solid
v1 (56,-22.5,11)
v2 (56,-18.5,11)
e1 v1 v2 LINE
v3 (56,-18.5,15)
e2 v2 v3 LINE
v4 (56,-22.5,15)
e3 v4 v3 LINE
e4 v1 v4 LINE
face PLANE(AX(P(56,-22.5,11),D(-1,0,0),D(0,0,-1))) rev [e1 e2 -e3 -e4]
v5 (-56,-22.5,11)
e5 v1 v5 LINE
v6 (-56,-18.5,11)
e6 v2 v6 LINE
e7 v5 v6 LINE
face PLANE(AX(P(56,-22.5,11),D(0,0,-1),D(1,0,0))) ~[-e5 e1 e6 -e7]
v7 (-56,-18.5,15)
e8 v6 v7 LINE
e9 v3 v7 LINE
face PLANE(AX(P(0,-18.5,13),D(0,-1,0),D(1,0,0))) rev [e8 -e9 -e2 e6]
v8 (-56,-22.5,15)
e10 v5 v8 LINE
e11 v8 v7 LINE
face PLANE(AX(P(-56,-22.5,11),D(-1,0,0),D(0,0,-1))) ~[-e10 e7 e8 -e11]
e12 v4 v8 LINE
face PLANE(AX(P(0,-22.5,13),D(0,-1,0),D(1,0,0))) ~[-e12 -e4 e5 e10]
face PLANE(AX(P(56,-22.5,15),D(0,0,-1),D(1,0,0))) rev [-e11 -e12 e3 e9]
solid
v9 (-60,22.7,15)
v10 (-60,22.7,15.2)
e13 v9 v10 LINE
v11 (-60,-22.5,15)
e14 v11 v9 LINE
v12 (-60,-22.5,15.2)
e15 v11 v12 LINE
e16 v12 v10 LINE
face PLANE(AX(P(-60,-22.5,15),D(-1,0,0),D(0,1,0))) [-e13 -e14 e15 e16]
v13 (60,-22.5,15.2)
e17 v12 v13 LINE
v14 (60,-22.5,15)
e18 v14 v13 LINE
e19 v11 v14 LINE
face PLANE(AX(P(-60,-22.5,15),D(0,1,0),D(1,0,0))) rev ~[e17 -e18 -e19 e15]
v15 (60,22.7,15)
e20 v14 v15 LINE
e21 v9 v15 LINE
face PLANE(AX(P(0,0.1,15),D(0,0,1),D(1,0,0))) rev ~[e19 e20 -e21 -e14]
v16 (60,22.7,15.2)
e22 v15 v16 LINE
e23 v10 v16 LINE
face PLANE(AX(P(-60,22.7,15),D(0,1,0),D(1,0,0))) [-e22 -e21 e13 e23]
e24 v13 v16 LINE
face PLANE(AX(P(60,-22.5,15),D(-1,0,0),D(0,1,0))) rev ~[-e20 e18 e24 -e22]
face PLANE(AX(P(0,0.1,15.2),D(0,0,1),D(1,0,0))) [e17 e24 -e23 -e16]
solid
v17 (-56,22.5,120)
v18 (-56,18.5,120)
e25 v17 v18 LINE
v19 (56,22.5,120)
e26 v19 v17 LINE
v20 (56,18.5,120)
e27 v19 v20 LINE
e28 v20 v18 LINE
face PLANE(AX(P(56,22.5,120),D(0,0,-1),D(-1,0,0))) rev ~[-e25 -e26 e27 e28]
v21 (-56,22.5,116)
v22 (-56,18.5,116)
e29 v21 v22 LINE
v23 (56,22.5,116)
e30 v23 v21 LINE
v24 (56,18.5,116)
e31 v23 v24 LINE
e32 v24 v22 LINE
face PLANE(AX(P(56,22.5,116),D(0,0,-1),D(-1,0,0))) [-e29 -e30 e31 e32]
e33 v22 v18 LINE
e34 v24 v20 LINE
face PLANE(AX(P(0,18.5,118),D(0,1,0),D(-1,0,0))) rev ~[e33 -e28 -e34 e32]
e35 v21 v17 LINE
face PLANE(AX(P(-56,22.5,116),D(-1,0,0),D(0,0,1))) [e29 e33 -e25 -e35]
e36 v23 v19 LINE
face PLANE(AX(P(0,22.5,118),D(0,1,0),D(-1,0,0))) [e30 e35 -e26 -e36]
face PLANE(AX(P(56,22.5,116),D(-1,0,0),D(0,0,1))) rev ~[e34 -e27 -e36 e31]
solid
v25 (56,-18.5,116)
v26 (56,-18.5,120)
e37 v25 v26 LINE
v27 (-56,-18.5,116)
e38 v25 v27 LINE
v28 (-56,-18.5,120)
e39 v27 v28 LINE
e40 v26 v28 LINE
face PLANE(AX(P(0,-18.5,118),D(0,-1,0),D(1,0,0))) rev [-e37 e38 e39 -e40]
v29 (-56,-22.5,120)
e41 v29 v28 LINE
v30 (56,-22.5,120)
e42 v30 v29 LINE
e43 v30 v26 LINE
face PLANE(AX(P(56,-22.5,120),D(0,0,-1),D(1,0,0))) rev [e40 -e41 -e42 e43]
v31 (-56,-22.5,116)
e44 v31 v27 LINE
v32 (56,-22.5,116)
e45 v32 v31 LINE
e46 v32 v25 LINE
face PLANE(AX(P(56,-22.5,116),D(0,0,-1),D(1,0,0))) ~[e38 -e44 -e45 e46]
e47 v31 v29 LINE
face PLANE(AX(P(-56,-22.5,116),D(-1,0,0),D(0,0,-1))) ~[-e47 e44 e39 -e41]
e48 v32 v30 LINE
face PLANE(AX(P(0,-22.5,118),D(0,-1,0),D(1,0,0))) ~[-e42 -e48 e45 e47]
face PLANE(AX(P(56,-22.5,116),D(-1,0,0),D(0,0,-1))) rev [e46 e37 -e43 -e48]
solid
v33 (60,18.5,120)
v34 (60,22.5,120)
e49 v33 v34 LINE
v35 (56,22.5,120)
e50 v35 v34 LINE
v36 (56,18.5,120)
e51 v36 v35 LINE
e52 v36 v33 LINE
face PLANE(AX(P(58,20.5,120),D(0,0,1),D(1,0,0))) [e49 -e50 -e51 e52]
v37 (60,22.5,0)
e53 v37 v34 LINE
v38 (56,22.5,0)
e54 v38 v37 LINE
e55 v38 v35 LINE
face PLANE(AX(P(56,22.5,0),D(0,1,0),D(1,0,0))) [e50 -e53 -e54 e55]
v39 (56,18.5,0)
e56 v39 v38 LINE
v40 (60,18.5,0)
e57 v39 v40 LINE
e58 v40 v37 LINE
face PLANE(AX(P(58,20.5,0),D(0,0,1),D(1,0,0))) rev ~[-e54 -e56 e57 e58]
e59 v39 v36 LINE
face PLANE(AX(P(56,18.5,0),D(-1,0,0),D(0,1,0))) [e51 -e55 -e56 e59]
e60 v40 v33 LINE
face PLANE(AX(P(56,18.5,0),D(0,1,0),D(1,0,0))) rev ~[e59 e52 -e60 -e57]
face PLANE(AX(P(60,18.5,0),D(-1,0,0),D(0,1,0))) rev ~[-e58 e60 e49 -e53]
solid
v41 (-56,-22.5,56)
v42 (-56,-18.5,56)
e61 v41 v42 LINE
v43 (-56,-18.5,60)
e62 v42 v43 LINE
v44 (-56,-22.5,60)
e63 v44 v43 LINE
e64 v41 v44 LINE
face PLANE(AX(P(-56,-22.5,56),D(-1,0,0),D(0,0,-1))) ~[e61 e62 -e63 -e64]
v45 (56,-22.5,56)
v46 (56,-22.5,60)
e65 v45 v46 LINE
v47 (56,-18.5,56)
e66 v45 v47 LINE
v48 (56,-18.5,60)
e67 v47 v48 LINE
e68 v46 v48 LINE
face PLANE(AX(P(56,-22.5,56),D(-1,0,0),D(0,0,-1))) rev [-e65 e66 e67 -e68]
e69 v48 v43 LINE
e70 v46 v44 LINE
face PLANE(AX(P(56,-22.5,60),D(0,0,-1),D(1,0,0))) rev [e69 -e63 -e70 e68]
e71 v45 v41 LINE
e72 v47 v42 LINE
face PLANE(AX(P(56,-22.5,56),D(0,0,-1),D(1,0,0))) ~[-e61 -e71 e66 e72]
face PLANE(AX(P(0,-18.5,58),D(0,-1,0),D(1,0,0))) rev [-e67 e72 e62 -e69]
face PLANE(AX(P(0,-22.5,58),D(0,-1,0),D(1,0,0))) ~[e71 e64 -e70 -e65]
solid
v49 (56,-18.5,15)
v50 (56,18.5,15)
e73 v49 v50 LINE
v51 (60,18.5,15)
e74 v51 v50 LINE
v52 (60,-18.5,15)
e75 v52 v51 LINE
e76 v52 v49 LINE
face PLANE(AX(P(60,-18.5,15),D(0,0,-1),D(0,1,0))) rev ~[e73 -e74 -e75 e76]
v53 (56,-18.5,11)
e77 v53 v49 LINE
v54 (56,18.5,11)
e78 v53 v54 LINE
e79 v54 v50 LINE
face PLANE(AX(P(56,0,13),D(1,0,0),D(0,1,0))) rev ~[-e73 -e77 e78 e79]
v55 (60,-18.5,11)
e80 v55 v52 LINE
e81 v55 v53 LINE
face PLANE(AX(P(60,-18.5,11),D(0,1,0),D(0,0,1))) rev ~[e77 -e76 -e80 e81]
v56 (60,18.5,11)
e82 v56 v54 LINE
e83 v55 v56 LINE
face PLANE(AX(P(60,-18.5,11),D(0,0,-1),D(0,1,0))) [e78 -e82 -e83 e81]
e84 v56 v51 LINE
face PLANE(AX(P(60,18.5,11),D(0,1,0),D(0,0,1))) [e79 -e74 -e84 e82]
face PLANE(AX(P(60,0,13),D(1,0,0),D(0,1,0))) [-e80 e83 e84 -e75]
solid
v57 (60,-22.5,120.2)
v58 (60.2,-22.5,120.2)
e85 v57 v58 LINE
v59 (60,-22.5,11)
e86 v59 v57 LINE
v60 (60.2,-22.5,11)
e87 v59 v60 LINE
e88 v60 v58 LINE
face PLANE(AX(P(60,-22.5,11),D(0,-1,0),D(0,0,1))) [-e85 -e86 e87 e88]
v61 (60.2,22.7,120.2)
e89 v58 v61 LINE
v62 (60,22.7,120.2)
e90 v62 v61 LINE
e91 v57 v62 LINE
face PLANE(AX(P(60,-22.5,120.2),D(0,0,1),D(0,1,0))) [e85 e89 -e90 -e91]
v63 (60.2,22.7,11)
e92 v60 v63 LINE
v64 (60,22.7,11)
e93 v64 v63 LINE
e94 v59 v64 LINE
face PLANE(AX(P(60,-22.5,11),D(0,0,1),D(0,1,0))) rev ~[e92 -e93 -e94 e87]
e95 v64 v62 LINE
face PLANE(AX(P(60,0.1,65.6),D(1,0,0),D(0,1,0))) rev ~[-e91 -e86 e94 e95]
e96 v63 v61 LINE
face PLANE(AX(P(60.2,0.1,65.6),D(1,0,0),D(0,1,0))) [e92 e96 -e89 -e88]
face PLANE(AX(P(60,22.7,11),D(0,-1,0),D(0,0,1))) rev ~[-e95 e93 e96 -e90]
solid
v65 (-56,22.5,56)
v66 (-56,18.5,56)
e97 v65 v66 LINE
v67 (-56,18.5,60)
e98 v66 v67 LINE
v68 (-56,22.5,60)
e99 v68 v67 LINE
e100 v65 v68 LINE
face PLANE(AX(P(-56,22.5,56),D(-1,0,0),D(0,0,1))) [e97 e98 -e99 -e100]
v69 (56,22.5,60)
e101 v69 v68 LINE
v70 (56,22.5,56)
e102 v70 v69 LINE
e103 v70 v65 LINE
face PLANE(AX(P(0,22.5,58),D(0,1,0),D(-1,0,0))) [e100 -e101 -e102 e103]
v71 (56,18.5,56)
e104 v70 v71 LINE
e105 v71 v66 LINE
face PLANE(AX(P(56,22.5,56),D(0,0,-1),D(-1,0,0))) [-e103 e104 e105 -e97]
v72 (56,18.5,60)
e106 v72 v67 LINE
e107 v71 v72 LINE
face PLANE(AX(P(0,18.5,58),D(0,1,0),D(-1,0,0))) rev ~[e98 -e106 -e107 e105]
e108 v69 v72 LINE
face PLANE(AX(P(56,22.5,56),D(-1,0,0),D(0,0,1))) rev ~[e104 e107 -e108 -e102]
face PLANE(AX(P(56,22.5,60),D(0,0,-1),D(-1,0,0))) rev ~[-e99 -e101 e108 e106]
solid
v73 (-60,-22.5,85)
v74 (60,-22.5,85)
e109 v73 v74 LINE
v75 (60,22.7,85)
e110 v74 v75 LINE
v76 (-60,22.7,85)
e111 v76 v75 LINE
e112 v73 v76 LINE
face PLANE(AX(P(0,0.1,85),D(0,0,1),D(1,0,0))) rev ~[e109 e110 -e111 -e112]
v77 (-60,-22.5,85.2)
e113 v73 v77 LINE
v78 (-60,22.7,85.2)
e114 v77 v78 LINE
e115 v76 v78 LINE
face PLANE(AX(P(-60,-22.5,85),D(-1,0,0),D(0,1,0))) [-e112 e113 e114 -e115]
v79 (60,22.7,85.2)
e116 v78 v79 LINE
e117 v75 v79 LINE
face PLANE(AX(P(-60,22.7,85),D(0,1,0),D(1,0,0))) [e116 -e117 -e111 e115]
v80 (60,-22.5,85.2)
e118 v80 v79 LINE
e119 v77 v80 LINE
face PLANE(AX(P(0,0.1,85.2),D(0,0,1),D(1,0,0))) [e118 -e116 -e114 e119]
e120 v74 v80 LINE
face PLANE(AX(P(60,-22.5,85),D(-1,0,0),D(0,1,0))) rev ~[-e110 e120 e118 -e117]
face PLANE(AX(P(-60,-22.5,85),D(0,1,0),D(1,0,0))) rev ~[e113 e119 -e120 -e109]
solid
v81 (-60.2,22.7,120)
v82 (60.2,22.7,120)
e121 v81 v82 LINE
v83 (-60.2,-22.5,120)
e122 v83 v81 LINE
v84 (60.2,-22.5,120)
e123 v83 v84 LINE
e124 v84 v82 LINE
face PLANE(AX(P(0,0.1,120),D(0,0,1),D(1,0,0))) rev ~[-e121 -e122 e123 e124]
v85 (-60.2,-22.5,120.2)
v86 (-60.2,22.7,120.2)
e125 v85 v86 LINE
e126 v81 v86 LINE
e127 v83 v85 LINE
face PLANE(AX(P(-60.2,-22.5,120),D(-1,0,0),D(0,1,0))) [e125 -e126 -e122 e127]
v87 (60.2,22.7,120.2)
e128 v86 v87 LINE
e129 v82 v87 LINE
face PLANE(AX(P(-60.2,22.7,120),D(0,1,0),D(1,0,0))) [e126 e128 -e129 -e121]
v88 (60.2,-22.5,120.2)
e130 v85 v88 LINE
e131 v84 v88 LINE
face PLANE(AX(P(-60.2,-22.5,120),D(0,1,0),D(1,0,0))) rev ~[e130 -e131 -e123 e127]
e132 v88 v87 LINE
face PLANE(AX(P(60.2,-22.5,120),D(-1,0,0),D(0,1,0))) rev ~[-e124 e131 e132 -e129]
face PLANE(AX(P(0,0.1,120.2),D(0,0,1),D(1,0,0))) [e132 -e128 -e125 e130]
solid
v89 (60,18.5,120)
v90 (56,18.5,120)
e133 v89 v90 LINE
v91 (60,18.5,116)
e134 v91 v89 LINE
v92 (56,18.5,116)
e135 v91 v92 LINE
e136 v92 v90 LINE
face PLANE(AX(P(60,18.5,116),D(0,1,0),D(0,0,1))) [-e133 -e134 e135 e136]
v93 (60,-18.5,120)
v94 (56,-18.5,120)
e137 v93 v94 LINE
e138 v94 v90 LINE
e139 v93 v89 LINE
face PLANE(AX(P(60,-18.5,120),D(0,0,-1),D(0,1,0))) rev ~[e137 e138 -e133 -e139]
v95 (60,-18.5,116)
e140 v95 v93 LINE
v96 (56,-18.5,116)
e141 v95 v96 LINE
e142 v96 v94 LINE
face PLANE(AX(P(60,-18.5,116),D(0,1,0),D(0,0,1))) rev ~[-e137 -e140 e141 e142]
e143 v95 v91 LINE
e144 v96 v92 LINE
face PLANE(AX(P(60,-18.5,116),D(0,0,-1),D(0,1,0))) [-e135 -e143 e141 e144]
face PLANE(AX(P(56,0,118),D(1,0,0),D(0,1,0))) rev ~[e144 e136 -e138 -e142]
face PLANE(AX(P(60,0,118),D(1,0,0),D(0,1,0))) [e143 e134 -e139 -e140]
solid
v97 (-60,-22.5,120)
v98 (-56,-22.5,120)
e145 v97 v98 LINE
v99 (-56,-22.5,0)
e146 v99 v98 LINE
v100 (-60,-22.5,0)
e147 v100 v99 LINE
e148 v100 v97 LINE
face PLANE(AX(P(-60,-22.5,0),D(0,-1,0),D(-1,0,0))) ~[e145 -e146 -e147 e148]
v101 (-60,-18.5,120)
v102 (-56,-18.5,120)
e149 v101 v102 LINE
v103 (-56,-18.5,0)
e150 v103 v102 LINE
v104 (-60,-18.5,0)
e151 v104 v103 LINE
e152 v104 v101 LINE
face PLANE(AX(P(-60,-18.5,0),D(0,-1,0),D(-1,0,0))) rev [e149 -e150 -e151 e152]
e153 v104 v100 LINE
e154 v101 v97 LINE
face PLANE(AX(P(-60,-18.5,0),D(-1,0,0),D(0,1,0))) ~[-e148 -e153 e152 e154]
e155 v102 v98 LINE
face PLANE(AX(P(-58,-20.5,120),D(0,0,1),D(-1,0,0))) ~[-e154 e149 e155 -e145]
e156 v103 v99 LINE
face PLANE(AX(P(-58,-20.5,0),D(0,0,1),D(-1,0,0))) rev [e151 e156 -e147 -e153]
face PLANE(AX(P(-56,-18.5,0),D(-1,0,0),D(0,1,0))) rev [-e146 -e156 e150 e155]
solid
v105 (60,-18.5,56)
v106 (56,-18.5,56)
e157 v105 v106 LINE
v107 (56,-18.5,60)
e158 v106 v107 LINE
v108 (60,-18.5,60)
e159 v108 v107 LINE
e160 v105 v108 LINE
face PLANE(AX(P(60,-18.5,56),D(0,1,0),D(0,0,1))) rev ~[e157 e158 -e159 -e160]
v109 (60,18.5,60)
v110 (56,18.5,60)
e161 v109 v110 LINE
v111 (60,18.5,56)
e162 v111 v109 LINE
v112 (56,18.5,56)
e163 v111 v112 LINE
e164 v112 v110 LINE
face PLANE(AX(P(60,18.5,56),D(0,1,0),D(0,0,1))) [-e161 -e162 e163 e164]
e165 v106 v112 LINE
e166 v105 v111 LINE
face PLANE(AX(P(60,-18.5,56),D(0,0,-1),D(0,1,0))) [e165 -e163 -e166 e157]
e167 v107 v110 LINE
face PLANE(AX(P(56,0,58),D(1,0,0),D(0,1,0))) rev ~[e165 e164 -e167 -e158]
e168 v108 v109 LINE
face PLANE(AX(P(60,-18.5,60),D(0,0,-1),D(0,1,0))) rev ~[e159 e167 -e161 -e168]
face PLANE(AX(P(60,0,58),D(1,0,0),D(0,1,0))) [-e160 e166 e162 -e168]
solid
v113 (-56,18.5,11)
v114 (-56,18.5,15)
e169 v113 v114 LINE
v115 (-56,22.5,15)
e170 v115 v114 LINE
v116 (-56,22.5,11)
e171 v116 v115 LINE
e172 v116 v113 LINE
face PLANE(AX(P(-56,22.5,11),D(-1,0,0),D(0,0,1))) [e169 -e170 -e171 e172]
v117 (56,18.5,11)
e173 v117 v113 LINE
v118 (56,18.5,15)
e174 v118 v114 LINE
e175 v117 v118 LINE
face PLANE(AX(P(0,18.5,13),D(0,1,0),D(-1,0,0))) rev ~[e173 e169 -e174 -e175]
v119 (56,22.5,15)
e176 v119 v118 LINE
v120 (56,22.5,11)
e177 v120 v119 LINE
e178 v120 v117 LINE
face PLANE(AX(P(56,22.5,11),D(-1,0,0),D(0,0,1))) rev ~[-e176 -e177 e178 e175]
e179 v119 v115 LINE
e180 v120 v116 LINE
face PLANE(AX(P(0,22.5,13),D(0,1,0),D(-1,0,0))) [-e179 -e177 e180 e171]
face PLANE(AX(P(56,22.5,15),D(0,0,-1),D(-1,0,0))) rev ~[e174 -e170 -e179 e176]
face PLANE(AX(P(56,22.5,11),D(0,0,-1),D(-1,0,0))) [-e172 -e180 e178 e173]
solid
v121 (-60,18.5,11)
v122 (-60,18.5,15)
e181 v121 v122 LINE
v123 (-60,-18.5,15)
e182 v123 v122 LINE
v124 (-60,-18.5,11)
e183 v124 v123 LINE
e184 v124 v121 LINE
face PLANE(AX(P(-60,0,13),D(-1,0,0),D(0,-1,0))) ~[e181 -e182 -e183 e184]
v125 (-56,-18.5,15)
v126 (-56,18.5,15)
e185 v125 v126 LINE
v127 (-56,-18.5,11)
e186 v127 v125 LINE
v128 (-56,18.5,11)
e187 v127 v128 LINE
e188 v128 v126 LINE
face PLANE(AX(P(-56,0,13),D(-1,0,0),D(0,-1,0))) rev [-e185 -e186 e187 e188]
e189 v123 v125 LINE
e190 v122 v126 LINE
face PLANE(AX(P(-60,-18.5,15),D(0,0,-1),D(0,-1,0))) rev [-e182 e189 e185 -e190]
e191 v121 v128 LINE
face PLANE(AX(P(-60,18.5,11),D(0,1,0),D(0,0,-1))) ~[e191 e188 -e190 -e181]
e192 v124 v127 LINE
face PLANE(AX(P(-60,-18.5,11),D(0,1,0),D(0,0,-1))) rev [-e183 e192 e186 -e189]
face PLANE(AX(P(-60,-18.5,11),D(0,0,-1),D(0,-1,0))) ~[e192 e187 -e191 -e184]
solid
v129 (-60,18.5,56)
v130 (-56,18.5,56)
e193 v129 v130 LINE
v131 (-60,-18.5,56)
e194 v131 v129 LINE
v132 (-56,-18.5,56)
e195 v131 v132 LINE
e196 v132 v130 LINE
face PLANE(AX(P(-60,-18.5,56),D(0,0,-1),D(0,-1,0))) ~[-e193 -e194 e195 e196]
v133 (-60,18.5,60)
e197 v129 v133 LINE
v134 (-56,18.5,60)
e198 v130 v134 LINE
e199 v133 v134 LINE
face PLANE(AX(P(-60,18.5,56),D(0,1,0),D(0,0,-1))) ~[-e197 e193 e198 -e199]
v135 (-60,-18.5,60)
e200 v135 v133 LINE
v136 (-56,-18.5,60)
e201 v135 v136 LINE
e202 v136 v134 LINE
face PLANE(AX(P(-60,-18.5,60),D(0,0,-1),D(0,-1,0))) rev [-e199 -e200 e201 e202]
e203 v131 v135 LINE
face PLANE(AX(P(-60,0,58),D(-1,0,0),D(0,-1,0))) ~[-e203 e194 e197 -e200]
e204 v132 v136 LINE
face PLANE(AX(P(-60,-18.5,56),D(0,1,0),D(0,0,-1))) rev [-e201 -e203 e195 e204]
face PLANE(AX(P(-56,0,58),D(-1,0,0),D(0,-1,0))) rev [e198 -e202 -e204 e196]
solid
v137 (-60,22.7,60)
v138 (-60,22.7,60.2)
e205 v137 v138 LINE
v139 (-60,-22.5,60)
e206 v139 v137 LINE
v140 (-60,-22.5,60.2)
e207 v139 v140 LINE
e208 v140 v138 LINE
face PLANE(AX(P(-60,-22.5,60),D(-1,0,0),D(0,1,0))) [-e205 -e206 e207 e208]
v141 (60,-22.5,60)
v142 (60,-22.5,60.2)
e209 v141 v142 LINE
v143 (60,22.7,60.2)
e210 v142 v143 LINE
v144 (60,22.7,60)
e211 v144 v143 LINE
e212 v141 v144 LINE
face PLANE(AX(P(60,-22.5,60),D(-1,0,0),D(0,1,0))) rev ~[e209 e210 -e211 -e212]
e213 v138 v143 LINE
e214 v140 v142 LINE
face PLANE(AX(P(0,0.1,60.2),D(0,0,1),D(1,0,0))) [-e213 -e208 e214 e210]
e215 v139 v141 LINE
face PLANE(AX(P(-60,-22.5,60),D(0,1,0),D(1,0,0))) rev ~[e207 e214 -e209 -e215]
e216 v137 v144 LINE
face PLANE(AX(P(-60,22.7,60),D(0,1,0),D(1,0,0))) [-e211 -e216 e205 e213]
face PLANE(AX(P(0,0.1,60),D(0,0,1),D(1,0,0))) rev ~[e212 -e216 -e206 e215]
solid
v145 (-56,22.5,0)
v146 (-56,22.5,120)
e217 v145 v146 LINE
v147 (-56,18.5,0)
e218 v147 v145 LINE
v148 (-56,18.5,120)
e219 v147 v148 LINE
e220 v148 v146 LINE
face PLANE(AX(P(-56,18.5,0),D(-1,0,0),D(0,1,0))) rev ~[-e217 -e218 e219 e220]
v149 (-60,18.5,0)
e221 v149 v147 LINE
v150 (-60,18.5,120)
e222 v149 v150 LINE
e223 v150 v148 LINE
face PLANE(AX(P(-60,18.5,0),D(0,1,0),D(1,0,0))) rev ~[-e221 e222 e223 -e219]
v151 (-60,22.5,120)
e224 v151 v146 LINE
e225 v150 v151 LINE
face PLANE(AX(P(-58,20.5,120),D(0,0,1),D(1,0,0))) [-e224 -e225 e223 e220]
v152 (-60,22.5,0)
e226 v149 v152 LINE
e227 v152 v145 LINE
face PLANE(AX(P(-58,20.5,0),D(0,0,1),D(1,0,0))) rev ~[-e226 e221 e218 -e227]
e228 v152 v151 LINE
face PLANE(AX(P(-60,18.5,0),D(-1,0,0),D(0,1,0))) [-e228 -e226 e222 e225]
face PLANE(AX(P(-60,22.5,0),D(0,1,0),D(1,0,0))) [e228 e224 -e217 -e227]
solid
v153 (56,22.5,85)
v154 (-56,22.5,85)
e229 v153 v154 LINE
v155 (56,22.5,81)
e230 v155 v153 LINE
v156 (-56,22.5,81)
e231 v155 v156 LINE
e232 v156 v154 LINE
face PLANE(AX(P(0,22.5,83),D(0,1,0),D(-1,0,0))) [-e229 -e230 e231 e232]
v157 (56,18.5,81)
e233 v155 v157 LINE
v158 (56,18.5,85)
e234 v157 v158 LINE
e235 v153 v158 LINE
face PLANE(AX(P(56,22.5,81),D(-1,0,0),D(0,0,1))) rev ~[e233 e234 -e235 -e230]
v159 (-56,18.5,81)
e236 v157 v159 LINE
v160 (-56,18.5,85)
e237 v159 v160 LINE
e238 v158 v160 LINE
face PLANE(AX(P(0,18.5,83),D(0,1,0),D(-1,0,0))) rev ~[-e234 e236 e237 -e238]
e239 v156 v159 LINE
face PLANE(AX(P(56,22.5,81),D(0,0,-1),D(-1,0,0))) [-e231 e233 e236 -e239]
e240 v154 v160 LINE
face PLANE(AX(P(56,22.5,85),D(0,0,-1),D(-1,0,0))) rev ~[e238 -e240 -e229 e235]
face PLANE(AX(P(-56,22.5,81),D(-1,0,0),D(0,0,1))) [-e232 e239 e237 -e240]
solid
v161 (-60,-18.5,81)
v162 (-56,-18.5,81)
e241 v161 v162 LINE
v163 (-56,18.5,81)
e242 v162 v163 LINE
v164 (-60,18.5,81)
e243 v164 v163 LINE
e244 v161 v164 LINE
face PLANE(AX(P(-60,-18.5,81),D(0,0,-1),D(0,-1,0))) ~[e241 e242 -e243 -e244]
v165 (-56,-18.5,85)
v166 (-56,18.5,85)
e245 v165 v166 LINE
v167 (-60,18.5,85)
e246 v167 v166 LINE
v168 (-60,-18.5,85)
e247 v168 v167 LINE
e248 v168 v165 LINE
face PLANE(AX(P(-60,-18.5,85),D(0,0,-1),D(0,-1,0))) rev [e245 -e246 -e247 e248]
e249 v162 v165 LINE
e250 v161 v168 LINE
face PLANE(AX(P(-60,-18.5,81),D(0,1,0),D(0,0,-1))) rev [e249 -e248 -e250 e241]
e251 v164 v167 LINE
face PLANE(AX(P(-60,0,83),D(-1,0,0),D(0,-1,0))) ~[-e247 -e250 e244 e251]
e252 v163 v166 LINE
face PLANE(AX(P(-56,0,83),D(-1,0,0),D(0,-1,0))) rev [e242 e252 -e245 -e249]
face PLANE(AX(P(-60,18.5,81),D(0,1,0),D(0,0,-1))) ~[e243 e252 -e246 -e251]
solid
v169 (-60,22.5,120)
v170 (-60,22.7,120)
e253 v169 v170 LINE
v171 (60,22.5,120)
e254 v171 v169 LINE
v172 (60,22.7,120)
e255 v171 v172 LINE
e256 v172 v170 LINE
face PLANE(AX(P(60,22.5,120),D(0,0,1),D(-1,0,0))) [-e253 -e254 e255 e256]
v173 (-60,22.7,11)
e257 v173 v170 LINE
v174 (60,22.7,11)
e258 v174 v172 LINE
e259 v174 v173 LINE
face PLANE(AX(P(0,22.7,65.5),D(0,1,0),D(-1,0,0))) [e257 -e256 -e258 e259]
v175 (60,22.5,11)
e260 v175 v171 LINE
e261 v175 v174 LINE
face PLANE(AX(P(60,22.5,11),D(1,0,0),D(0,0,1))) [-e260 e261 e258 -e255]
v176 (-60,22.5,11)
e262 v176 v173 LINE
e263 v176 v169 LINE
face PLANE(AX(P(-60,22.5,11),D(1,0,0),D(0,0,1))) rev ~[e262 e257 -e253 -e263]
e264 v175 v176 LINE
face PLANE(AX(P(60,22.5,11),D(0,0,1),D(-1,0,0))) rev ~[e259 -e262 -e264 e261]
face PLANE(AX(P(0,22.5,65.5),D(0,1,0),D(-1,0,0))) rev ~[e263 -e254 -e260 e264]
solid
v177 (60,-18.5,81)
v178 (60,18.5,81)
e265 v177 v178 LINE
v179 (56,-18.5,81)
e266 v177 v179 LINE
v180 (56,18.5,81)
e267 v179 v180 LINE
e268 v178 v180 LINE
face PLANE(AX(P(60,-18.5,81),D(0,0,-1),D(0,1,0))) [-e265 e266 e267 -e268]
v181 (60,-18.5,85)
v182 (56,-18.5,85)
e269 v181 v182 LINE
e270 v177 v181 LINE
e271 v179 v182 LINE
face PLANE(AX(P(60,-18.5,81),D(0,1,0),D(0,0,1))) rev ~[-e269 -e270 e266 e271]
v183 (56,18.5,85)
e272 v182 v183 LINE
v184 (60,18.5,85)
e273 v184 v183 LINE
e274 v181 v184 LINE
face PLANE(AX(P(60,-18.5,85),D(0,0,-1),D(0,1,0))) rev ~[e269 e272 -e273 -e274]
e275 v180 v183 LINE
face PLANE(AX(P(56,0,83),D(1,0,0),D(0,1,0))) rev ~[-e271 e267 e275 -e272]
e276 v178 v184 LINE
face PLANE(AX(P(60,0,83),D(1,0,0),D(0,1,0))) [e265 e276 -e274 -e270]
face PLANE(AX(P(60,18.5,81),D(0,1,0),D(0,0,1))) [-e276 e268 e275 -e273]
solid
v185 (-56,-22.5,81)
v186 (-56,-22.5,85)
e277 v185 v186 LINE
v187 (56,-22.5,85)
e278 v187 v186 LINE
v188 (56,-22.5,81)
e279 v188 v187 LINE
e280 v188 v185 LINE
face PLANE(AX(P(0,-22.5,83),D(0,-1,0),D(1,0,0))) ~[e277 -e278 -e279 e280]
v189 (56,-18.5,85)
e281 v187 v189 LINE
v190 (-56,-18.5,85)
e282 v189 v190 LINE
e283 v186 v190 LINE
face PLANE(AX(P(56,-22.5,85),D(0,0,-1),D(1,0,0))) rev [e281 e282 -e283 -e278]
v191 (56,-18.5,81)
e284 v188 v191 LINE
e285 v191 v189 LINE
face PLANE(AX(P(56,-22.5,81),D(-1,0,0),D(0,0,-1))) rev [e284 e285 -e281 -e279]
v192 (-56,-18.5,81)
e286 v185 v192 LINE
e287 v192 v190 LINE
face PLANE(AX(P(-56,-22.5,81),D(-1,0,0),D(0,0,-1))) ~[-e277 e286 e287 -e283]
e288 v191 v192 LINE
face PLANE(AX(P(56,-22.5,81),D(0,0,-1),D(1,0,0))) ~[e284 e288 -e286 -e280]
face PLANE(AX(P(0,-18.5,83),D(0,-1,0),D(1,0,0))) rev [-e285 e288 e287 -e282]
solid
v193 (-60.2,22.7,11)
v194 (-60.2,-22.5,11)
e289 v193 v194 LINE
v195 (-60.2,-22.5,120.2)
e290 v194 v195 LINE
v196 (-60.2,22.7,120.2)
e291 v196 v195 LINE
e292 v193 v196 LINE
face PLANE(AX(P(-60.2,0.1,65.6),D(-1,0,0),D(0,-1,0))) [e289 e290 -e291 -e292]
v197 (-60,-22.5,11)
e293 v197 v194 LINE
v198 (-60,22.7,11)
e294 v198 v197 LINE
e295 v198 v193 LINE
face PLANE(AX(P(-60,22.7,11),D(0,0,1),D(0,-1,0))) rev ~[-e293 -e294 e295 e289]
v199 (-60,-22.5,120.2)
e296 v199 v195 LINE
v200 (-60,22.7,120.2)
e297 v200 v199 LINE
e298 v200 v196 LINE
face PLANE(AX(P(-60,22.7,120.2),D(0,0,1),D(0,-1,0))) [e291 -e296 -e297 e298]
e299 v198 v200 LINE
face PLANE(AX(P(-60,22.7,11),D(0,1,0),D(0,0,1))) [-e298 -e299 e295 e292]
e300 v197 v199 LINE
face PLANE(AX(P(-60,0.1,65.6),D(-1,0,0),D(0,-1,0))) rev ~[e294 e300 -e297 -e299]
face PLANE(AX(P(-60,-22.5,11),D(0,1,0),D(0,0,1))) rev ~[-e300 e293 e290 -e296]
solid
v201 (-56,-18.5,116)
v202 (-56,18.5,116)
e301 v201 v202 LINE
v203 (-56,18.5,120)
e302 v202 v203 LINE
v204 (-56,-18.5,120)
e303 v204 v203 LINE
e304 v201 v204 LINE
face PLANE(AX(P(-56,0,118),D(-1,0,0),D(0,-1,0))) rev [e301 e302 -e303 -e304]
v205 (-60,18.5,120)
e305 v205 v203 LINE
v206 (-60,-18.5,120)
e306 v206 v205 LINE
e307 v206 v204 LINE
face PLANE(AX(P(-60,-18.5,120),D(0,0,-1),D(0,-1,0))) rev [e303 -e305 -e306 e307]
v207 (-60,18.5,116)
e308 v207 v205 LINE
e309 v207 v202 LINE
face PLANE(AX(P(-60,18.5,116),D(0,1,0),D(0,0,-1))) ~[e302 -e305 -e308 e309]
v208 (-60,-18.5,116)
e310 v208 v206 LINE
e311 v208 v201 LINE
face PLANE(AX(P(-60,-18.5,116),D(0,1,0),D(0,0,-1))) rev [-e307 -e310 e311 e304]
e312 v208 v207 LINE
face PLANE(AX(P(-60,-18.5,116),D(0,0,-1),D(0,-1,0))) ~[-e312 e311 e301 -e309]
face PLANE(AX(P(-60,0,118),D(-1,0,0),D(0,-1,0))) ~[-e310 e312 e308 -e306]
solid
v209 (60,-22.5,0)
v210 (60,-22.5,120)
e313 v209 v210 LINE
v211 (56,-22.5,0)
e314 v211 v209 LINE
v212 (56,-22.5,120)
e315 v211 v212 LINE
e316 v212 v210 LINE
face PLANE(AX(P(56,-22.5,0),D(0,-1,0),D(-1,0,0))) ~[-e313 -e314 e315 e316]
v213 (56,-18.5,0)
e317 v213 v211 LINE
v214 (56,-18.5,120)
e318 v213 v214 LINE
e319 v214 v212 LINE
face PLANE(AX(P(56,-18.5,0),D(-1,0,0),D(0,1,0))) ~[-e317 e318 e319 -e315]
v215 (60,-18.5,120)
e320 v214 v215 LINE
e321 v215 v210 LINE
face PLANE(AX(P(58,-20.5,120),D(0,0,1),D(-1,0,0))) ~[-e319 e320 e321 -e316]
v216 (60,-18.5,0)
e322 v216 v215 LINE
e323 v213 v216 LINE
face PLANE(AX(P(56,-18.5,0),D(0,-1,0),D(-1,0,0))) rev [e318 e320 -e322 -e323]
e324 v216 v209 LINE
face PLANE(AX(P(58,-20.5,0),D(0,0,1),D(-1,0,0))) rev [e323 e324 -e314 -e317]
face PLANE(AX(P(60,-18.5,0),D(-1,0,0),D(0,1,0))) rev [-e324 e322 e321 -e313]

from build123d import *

# Parameters (mm, degrees)
F0_W      = 4
F0_H      = 4
F1_DEPTH  = 120
F2_W      = 112
F2_H      = 4
F3_DEPTH  = 4
F5_W      = 37
F5_H      = 4
F6_DEPTH  = 4
F8_W      = 120
F8_H      = 109
F9_DEPTH  = 0.2
F10_W     = 45.2
F10_H     = 109.2
F11_DEPTH = 0.2
F12_W     = 120.4
F12_H     = 45.2
F13_DEPTH = 0.2
F14_W     = 45.2
F14_H     = 109.2
F15_DEPTH = 0.2
F16_W     = 120
F16_H     = 45.2
F17_DEPTH = 0.2
F18_W     = 120
F18_H     = 45.2
F19_DEPTH = 0.2
F20_W     = 120
F20_H     = 45.2
F21_DEPTH = 0.2


with BuildPart() as f1:
    # F0 (on Top) → F1 (new body)
    with BuildSketch(Plane.XY):
        with Locations((-58, 20.5)):
            Rectangle(F0_W, F0_H)
        with Locations((58, 20.5)):
            Rectangle(F0_W, F0_H)
    extrude(amount=F1_DEPTH)


with BuildPart() as f3:
    # F2 (on face) → F3 (new body)
    with BuildSketch(Plane(origin=(0, 22.5, 0), x_dir=(-1, 0, 0), z_dir=(0, 1, 0))):
        with Locations((0, 118)):
            Rectangle(F2_W, F2_H)
        with Locations((0, 83)):
            Rectangle(F2_W, F2_H)
        with Locations((0, 58)):
            Rectangle(F2_W, F2_H)
        with Locations((0, 13)):
            Rectangle(F2_W, F2_H)
    extrude(amount=-F3_DEPTH)


with BuildPart() as f4_1:
    # F4: instance of F1
    add(f1.part.mirror(Plane.XZ))


with BuildPart() as f4_2:
    # F4: instance of F3
    add(f3.part.mirror(Plane.XZ))


with BuildPart() as f6:
    # F5 (on face) → F6 (new body)
    with BuildSketch(Plane.YZ.offset(60)):
        with Locations((0, 118)):
            Rectangle(F5_W, F5_H)
        with Locations((0, 83)):
            Rectangle(F5_W, F5_H)
        with Locations((0, 58)):
            Rectangle(F5_W, F5_H)
        with Locations((0, 13)):
            Rectangle(F5_W, F5_H)
    extrude(amount=-F6_DEPTH)


with BuildPart() as f7_1:
    # F7: instance of F6
    add(f6.part.mirror(Plane.YZ))


with BuildPart() as f9:
    # F8 (on face) → F9 (new body)
    with BuildSketch(Plane(origin=(0, 22.5, 0), x_dir=(-1, 0, 0), z_dir=(0, 1, 0))):
        with Locations((0, 65.5)):
            Rectangle(F8_W, F8_H)
    extrude(amount=F9_DEPTH)


with BuildPart() as f11:
    # F10 (on face) → F11 (new body)
    with BuildSketch(Plane(origin=(-60, 0, 0), x_dir=(0, -1, 0), z_dir=(-1, 0, 0))):
        with Locations((-0.1, 65.6)):
            Rectangle(F10_W, F10_H)
    extrude(amount=F11_DEPTH)


with BuildPart() as f13:
    # F12 (on face) → F13 (new body)
    with BuildSketch(Plane.XY.offset(120)):
        with Locations((0, 0.1)):
            Rectangle(F12_W, F12_H)
    extrude(amount=F13_DEPTH)


with BuildPart() as f15:
    # F14 (on face) → F15 (new body)
    with BuildSketch(Plane.YZ.offset(60)):
        with Locations((0.1, 65.6)):
            Rectangle(F14_W, F14_H)
    extrude(amount=F15_DEPTH)


with BuildPart() as f17:
    # F16 (on face) → F17 (new body)
    with BuildSketch(Plane.XY.offset(60)):
        with Locations((0, 0.1)):
            Rectangle(F16_W, F16_H)
    extrude(amount=F17_DEPTH)


with BuildPart() as f19:
    # F18 (on face) → F19 (new body)
    with BuildSketch(Plane.XY.offset(85)):
        with Locations((0, 0.1)):
            Rectangle(F18_W, F18_H)
    extrude(amount=F19_DEPTH)


with BuildPart() as f21:
    # F20 (on face) → F21 (new body)
    with BuildSketch(Plane.XY.offset(15)):
        with Locations((0, 0.1)):
            Rectangle(F20_W, F20_H)
    extrude(amount=F21_DEPTH)


solid = Compound([f1.part, f3.part, f4_1.part, f4_2.part, f6.part, f7_1.part, f9.part, f11.part, f13.part, f15.part, f17.part, f19.part, f21.part])
